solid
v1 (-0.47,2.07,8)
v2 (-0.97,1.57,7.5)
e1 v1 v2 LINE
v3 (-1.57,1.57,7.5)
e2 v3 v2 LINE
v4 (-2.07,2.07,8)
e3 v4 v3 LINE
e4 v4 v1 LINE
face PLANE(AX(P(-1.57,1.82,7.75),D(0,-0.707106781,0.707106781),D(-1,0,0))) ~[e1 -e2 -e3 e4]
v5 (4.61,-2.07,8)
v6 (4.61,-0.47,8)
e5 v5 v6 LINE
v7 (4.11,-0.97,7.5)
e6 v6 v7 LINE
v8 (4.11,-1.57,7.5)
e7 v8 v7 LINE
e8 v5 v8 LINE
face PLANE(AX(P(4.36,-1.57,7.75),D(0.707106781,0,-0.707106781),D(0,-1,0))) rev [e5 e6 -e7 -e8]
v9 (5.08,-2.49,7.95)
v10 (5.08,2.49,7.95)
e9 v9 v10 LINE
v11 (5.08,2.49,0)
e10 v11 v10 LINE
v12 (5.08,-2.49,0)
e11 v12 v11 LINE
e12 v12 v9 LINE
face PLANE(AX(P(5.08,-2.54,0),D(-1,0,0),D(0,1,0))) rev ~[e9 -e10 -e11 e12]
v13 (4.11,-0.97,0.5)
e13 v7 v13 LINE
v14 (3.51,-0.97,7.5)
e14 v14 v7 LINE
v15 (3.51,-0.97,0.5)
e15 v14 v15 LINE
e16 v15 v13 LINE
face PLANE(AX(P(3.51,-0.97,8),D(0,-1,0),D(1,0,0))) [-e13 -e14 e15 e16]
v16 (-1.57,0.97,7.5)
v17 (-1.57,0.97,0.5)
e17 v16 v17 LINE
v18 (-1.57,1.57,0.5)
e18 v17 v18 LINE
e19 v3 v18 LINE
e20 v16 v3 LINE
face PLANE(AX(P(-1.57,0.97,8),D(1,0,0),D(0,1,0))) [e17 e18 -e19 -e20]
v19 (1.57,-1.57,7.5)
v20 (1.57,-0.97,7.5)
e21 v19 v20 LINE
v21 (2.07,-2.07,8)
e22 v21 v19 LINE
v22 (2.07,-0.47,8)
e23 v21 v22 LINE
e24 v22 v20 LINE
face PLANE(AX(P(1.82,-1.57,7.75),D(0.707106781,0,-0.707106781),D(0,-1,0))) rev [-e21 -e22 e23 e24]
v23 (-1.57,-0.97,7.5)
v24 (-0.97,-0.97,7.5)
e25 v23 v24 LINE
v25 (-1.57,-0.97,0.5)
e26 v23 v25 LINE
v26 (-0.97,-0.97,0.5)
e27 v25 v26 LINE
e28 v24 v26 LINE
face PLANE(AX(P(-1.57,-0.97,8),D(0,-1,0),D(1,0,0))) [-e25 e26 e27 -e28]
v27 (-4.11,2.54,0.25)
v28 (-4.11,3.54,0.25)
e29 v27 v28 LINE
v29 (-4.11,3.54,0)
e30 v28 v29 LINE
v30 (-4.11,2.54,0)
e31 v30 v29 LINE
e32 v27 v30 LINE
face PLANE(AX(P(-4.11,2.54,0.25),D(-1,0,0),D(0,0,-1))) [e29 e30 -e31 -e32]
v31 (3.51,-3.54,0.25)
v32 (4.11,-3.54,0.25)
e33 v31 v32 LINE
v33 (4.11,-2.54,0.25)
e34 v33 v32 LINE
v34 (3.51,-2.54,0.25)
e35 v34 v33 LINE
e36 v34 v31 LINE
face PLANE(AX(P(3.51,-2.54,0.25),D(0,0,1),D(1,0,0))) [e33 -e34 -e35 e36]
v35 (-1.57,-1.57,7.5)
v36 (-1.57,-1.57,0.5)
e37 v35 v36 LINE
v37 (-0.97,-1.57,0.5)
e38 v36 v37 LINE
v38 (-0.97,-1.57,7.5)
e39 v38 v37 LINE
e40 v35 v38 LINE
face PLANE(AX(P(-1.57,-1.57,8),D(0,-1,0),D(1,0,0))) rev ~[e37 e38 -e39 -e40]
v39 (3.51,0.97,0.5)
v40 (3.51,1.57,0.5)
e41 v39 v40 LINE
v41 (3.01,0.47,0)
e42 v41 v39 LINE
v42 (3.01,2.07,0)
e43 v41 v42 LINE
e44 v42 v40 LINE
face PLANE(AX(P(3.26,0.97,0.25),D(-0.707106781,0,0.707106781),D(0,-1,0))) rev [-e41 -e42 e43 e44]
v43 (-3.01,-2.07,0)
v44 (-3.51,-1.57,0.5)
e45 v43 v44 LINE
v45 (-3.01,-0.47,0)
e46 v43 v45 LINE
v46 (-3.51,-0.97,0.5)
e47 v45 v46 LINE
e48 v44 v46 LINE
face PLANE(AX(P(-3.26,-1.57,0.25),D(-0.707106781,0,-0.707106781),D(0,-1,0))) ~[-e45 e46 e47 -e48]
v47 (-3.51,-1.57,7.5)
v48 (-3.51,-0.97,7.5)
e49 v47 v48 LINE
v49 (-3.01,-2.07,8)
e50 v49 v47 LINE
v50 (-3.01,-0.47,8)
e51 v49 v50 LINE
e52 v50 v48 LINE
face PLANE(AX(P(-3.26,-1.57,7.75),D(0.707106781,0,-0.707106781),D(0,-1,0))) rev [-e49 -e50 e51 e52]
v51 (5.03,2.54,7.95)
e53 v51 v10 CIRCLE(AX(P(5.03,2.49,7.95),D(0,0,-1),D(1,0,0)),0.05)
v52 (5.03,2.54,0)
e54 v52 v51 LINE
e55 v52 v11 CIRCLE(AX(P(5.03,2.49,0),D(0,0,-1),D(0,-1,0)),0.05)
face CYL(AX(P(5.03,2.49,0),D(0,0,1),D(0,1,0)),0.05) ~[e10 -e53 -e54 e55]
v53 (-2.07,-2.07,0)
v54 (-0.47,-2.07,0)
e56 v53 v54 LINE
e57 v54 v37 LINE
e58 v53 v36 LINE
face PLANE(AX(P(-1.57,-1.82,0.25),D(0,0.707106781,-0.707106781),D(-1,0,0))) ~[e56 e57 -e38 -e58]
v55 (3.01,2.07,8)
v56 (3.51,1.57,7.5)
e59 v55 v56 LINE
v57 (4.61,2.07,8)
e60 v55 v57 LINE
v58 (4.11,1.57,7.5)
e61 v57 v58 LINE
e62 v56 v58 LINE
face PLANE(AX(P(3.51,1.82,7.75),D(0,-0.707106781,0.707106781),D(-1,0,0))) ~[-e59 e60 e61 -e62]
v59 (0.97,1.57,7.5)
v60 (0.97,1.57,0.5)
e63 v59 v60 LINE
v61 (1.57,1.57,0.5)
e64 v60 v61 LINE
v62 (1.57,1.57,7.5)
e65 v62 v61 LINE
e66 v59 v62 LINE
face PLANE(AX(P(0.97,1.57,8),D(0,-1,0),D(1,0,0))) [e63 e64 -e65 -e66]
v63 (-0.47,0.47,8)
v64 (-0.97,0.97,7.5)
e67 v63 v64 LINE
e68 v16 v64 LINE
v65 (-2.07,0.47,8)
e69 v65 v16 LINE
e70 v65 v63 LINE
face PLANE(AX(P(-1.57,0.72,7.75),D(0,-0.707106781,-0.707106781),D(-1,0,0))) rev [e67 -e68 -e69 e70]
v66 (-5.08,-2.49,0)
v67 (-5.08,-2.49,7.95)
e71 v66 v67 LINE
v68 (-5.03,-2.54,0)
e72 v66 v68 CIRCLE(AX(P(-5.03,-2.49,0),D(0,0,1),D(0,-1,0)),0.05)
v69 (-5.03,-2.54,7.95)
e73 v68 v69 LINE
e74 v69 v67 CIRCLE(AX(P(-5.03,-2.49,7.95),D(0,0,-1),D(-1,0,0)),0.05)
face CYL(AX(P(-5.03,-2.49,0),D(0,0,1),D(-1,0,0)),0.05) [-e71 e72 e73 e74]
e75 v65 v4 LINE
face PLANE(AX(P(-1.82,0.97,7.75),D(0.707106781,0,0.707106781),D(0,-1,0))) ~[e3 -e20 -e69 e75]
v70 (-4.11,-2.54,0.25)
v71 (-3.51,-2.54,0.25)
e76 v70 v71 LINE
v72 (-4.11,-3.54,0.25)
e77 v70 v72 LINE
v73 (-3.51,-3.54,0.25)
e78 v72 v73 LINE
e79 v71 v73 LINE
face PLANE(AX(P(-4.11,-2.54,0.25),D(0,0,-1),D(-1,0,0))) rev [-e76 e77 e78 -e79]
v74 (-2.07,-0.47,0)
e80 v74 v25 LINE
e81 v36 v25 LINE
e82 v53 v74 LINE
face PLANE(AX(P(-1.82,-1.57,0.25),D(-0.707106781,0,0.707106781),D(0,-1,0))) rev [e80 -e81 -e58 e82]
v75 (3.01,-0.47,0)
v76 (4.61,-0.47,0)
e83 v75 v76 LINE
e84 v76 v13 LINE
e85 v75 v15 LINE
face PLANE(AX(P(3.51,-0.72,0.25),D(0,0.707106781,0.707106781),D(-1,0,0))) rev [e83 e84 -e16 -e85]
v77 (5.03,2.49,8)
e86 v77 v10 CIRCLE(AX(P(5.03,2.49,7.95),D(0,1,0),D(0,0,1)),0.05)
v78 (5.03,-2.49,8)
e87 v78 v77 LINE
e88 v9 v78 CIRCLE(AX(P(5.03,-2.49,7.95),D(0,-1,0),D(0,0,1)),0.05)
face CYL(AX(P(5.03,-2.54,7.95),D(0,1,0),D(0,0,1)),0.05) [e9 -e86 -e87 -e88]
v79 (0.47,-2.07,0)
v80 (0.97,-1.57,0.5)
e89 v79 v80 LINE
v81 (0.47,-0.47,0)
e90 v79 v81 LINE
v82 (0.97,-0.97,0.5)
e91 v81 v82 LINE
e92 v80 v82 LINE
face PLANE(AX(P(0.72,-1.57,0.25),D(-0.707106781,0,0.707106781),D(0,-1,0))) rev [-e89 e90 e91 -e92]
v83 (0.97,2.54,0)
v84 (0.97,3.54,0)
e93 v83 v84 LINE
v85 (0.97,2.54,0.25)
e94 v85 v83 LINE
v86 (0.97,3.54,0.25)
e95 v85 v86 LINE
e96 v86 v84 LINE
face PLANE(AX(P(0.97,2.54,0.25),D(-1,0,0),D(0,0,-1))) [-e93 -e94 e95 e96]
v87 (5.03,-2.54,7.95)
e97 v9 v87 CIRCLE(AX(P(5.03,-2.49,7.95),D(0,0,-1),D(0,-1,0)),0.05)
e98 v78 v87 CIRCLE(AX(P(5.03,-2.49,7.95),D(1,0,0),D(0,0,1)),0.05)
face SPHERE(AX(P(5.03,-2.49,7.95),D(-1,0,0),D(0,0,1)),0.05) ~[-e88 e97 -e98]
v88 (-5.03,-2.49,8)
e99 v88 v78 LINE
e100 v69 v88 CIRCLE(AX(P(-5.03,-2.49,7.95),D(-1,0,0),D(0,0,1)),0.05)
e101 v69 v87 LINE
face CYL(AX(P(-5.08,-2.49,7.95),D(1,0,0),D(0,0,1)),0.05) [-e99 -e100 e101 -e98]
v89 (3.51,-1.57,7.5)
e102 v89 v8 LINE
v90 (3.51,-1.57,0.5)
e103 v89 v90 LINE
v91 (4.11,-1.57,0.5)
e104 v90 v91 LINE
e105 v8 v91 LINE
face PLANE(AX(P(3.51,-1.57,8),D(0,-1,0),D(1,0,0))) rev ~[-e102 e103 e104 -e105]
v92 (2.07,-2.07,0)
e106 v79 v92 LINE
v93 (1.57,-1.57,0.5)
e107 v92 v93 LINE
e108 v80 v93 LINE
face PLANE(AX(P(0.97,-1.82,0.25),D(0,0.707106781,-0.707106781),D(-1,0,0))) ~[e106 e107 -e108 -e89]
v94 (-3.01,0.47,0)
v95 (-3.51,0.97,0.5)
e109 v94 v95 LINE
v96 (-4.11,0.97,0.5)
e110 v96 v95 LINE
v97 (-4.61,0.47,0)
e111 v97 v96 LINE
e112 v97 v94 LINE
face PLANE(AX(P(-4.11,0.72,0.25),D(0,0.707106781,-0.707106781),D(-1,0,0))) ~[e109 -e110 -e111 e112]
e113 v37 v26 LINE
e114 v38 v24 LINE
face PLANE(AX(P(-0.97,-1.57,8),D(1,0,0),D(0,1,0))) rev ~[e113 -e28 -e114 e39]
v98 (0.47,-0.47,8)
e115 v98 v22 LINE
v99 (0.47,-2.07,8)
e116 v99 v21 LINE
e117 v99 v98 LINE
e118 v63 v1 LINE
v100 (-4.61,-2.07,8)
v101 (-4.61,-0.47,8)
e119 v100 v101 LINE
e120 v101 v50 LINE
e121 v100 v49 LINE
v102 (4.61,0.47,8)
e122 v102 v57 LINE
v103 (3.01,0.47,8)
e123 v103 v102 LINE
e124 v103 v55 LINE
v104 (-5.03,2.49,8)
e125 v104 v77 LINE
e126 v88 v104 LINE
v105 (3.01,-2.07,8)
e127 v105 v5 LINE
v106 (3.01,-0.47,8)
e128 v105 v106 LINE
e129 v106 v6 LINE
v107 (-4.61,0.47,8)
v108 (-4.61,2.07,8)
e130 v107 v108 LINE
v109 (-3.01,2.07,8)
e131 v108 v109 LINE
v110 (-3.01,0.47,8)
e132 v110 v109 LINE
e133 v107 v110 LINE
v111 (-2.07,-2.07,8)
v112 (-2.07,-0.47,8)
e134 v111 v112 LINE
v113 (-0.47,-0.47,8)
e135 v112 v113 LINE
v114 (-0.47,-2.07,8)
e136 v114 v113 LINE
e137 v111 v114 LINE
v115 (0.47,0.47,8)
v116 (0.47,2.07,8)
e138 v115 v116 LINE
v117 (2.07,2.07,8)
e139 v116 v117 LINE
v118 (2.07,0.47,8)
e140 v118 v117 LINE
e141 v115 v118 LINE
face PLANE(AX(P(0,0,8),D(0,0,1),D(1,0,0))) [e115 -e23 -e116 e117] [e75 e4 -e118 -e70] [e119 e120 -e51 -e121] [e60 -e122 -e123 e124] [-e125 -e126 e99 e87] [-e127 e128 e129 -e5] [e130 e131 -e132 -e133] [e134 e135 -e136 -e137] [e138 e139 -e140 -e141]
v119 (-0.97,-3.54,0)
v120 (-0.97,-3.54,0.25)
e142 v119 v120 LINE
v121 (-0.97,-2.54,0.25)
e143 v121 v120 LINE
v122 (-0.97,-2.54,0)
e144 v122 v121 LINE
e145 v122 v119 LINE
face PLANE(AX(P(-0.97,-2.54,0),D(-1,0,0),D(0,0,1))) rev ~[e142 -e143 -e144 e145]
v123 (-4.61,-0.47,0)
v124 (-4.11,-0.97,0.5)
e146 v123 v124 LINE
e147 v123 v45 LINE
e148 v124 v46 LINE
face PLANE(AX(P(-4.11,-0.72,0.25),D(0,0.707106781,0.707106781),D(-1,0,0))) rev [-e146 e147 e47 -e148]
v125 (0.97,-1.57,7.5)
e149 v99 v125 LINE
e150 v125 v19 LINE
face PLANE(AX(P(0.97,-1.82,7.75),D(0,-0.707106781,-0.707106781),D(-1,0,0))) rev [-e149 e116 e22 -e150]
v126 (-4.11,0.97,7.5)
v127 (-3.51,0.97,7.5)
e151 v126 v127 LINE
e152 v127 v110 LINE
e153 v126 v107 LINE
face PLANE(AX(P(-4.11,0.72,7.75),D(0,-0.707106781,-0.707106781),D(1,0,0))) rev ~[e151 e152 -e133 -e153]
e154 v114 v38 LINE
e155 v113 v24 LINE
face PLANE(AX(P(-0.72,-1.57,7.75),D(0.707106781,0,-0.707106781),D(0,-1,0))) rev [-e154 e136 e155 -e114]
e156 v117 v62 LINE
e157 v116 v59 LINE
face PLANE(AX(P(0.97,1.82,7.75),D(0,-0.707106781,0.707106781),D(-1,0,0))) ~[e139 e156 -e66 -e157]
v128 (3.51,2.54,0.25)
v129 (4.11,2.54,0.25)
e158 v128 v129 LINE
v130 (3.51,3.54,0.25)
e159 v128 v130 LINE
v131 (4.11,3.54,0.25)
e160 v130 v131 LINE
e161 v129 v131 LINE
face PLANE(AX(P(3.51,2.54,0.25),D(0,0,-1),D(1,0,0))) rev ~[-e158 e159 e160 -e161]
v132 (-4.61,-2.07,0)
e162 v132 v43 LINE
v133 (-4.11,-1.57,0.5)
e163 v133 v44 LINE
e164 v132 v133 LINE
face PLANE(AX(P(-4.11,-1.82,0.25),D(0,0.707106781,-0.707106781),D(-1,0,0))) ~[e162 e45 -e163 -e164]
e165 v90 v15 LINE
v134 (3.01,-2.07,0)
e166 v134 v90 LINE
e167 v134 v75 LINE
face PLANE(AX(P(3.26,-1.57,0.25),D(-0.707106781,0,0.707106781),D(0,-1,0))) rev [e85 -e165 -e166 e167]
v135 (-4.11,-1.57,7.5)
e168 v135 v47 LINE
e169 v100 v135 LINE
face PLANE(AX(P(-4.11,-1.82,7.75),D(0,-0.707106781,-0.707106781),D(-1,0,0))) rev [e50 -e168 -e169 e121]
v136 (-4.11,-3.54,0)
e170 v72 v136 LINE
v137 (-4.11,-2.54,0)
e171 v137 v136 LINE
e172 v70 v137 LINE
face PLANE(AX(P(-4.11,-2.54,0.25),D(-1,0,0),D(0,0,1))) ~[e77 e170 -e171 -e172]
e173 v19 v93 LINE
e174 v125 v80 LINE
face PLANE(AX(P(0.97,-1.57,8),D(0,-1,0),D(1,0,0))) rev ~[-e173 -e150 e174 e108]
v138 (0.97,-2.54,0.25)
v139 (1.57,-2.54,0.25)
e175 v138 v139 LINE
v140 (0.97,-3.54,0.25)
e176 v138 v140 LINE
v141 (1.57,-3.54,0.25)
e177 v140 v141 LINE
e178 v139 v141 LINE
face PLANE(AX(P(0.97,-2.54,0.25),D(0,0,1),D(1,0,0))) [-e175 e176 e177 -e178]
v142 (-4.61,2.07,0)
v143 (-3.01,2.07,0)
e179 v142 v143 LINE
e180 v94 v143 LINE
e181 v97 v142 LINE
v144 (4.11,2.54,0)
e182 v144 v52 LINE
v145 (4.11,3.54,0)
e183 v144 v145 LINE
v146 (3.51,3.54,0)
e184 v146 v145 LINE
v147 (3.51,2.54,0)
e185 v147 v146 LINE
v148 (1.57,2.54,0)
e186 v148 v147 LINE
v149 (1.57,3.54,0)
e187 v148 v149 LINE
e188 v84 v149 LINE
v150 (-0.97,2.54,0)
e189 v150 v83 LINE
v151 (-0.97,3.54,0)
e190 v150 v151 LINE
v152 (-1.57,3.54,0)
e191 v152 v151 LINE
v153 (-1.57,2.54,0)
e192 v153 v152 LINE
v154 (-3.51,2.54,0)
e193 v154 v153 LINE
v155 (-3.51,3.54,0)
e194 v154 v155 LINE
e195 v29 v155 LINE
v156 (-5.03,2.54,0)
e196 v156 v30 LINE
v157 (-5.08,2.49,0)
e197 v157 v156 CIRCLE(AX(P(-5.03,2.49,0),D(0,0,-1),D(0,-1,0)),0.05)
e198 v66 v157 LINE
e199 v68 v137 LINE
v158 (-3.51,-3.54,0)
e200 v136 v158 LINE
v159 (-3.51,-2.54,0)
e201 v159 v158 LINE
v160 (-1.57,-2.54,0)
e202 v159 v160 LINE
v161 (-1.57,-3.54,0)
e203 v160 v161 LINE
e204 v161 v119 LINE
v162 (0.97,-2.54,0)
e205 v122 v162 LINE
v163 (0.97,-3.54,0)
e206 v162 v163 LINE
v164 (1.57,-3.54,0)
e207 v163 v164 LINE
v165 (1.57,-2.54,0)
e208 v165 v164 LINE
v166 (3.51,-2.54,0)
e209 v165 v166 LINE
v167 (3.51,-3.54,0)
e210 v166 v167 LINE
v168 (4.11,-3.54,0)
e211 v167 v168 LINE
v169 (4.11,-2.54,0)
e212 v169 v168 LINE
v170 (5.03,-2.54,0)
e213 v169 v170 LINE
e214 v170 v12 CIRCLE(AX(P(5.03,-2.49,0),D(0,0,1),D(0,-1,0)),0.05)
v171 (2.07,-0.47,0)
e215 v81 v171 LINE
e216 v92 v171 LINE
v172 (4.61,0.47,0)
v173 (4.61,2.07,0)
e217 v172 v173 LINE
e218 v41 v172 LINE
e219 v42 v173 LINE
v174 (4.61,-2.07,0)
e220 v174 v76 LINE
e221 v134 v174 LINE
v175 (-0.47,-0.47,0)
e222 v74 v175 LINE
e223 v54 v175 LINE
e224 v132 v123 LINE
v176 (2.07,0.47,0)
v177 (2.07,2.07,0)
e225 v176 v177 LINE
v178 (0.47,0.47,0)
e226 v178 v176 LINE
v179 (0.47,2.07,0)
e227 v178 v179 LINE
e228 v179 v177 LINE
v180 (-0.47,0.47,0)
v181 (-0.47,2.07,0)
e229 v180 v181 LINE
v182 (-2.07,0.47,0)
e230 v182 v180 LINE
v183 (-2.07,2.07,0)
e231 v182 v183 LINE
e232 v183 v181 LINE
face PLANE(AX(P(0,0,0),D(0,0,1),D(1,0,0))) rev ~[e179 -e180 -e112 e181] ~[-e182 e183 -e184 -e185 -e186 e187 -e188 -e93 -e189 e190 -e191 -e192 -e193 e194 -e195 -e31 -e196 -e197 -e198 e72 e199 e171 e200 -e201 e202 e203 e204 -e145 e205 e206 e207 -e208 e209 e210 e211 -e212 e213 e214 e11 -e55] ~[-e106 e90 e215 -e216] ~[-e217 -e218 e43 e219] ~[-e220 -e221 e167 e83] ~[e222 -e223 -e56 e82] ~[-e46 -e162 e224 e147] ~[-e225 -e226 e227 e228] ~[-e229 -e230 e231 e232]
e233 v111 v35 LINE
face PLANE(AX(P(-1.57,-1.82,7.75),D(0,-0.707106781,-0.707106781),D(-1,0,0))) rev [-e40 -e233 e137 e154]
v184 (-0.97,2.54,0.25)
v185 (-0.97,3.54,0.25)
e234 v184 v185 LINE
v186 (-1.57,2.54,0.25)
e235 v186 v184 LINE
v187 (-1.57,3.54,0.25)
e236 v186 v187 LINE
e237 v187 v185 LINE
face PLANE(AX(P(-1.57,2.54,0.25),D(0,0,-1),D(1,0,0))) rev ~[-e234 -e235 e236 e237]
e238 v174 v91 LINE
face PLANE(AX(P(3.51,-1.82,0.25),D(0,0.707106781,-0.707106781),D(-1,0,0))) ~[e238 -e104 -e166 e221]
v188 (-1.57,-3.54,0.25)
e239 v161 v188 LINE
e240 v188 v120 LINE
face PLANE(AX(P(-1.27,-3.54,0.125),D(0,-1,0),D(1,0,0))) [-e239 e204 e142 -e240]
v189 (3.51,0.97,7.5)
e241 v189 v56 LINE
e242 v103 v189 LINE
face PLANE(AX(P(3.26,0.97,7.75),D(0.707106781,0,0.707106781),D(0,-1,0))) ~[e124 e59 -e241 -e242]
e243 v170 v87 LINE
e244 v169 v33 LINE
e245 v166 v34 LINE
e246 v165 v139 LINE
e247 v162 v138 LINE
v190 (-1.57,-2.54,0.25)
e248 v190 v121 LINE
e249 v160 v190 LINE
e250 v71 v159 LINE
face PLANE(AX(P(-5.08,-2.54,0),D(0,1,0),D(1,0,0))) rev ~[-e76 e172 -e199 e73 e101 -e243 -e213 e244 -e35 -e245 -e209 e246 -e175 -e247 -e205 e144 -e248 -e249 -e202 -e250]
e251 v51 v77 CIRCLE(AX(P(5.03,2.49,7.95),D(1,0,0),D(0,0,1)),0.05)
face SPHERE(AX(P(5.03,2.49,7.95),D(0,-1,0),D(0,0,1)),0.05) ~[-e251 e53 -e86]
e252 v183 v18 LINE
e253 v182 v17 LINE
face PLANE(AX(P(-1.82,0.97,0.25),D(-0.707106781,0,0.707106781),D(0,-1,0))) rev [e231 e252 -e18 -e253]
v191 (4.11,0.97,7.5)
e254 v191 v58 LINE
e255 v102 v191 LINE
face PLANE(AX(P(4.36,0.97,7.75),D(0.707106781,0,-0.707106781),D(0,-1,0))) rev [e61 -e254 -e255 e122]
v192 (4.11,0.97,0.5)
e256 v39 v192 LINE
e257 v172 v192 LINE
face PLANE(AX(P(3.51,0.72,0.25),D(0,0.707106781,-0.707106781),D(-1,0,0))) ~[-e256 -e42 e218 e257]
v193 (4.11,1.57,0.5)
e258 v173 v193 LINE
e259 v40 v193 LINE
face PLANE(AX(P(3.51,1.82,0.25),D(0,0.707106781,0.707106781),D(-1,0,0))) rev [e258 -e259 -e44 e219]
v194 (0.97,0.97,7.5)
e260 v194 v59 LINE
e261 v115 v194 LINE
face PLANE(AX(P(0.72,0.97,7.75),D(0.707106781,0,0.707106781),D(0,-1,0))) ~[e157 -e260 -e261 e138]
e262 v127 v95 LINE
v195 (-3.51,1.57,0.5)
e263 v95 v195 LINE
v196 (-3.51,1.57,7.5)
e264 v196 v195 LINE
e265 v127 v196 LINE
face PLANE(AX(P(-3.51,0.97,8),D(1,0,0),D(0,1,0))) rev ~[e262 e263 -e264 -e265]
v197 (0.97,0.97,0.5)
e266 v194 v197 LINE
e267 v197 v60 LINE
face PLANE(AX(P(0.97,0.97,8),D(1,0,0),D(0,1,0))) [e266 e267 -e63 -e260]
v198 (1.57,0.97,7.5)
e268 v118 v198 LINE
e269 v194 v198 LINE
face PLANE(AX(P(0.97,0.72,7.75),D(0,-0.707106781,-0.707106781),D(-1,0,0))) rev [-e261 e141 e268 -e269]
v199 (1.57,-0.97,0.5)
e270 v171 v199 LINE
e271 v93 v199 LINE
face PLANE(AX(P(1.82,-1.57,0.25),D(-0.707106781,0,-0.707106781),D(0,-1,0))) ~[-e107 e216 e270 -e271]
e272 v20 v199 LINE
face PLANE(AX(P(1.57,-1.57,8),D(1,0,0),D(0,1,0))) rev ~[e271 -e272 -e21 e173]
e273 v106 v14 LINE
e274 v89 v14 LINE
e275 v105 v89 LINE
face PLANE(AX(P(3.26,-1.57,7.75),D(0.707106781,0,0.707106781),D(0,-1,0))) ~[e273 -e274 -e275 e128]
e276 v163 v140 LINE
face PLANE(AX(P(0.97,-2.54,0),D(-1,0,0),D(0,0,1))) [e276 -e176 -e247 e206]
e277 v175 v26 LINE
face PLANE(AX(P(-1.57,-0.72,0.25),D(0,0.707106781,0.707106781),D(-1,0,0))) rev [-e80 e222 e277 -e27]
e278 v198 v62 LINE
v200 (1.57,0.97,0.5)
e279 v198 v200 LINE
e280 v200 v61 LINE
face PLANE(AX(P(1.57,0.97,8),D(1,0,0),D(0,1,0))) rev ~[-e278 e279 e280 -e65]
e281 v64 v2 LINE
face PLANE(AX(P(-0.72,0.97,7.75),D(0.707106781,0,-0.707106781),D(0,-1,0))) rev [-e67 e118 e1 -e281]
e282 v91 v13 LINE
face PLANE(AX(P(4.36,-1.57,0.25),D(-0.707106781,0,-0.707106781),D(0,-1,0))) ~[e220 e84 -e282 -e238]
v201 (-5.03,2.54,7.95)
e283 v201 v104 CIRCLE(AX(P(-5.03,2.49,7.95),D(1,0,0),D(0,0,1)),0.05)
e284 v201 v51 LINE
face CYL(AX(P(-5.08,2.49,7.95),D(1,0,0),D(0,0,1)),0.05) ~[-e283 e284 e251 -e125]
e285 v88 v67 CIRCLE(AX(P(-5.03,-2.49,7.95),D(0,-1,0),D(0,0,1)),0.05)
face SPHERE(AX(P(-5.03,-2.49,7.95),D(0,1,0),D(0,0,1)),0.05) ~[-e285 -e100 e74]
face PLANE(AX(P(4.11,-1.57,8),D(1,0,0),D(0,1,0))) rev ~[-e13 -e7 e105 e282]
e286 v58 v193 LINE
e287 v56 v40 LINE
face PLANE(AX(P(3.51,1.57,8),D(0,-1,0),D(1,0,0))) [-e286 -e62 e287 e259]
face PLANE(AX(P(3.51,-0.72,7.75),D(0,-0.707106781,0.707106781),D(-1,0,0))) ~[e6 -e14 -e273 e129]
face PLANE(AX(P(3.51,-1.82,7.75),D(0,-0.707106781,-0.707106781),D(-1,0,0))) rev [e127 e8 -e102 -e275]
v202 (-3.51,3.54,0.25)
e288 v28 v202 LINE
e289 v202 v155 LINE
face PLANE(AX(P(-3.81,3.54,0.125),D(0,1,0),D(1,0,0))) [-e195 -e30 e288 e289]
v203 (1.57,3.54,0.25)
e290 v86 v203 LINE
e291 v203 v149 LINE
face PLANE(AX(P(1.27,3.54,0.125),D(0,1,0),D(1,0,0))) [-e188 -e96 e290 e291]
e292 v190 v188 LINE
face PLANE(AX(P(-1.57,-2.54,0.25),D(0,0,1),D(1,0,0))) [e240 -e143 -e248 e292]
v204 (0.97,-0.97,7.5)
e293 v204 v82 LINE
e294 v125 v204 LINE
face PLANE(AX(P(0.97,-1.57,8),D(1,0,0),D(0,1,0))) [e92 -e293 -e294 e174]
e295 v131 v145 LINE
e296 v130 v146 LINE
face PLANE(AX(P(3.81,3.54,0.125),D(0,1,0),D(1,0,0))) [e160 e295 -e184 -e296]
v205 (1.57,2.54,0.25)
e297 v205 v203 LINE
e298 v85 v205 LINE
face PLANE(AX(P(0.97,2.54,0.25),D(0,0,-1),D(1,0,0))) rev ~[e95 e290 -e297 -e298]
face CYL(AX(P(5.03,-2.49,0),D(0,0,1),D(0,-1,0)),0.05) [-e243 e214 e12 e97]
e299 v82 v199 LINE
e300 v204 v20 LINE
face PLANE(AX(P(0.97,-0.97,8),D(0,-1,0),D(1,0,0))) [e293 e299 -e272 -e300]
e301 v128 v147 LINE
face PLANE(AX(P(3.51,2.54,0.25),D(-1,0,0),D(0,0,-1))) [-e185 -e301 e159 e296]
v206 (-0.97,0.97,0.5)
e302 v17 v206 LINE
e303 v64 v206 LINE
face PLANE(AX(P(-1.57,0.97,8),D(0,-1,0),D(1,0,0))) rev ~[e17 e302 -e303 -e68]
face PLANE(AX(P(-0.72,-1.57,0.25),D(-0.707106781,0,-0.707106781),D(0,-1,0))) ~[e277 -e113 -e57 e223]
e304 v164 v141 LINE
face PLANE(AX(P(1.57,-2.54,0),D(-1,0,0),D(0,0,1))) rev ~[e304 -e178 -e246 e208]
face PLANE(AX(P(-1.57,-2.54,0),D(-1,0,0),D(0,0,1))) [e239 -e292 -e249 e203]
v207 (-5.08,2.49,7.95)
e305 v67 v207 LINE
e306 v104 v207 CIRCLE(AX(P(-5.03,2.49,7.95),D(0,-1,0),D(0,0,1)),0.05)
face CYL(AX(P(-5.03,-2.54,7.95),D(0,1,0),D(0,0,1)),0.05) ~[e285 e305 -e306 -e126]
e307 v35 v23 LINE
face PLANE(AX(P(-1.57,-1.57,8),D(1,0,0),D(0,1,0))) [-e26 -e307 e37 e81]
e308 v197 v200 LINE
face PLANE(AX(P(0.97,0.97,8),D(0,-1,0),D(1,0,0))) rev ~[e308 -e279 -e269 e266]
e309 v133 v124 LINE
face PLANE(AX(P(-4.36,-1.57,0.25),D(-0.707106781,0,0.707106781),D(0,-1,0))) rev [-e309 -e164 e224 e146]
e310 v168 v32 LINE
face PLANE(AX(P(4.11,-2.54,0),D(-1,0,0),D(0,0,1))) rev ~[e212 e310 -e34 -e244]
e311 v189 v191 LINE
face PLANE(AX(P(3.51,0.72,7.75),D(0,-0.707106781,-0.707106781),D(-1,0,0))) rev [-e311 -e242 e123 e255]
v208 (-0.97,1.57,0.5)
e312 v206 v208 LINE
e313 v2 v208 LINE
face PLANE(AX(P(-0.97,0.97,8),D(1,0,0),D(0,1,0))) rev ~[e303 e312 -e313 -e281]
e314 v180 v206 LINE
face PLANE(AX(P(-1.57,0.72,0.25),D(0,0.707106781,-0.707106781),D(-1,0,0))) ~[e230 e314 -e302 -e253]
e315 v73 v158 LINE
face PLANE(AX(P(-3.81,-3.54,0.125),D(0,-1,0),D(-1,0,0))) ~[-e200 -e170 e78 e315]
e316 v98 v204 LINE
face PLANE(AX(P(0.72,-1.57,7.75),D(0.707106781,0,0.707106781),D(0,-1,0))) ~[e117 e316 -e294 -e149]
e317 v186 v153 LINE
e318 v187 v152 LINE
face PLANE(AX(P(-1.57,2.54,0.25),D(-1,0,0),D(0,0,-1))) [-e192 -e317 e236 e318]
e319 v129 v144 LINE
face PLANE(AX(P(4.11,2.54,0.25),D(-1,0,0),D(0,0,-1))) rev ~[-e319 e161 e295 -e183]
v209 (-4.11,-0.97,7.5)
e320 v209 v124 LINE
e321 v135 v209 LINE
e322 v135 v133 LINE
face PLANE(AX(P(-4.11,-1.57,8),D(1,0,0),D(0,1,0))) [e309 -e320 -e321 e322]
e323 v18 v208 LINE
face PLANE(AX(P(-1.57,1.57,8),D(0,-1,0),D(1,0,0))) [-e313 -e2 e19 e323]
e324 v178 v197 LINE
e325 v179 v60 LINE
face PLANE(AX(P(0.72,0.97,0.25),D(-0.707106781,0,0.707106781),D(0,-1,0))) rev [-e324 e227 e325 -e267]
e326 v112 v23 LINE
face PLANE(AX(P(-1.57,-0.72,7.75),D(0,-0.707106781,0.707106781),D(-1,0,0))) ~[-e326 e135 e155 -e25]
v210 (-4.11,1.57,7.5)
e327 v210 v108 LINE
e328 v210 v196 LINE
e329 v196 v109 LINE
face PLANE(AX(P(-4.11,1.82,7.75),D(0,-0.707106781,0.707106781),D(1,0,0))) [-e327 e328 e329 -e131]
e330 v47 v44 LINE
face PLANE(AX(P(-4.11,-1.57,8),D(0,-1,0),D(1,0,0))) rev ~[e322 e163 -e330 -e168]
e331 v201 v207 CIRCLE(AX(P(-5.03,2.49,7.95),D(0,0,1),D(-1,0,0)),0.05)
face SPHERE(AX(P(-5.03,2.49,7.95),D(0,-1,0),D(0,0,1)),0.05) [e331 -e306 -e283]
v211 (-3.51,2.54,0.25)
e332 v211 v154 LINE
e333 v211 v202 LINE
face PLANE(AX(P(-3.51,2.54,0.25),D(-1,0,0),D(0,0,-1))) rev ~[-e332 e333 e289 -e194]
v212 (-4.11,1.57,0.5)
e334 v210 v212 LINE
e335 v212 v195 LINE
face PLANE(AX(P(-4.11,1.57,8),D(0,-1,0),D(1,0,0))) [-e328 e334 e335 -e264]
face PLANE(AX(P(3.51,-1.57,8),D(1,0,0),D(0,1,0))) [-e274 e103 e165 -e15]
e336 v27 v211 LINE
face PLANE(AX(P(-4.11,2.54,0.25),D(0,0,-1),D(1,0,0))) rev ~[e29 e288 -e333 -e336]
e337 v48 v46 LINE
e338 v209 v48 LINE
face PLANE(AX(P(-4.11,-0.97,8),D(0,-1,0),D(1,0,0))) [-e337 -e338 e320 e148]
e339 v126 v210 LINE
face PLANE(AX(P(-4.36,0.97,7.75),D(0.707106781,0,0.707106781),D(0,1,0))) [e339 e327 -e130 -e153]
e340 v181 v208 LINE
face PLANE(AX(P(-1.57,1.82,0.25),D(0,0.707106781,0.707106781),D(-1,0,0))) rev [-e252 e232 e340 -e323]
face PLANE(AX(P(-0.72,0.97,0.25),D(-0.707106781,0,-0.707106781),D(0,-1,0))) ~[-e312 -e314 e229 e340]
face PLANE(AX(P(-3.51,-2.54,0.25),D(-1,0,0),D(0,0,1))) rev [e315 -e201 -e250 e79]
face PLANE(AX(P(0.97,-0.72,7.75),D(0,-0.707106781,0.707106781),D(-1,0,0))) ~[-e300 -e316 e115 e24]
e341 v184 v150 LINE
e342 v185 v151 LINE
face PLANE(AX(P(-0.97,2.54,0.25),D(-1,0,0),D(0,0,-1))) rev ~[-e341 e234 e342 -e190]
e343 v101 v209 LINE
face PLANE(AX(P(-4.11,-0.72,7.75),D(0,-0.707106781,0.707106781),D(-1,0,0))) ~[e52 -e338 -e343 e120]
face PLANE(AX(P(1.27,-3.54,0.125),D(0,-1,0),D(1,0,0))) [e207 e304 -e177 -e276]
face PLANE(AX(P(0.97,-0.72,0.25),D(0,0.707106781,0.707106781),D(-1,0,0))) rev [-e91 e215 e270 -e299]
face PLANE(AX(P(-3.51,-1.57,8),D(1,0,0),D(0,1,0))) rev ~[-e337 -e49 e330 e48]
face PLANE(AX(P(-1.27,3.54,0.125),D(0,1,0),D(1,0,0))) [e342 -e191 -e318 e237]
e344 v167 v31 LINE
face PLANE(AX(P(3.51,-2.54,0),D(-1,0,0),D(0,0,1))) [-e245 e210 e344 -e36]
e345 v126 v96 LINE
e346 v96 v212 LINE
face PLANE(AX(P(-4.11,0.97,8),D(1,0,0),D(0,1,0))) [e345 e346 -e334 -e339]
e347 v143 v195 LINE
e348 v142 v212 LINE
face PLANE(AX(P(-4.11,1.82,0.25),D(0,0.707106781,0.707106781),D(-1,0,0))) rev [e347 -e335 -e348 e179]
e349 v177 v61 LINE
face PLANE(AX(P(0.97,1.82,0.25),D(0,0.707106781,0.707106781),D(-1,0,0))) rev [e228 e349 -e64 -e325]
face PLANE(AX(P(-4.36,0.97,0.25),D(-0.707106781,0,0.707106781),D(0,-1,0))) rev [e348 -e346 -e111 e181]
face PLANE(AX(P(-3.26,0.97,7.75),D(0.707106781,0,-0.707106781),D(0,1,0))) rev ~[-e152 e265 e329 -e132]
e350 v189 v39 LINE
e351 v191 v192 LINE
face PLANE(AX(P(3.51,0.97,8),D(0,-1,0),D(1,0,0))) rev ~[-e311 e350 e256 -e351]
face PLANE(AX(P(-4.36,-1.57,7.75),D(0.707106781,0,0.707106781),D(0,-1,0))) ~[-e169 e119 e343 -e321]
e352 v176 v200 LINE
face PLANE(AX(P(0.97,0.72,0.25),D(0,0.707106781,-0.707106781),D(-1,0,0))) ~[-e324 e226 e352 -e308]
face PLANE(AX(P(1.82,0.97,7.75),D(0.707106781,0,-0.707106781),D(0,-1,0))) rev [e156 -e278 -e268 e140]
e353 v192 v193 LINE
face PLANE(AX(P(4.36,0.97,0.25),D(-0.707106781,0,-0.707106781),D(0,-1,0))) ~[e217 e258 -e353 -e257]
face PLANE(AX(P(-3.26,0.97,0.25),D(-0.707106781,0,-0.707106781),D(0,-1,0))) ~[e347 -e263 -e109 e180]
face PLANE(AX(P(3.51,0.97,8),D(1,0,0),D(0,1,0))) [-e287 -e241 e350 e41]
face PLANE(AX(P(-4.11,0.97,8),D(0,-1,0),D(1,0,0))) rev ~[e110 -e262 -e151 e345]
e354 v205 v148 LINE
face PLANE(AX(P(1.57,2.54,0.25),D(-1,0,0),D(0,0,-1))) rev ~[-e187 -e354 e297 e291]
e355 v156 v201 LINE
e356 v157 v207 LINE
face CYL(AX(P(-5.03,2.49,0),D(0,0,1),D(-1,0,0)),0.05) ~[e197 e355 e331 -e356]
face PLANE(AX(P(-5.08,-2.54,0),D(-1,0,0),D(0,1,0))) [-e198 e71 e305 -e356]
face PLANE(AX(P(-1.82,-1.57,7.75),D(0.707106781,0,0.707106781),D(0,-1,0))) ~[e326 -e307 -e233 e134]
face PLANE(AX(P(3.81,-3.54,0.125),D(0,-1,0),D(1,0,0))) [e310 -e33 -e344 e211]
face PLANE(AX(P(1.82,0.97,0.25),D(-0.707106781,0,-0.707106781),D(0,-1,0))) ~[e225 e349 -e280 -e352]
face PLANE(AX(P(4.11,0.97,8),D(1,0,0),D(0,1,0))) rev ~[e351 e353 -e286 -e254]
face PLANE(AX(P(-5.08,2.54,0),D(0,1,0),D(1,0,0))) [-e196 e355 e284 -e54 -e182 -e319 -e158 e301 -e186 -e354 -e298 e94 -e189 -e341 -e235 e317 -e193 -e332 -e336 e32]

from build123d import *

# Parameters (mm, degrees)
SKETCH_1_W               = 10.16
SKETCH_1_H               = 5.08
EXTRUDE_1_DEPTH          = 8
SKETCH_2_W               = 0.6
SKETCH_2_H               = 0.6
CUT_EXTRUDE_1_DEPTH      = 10.811116144
CHAMFER_1_SIZE           = 0.5
CHAMFER_2_SIZE           = 0.5
FILLET_1_R               = 0.05
SKETCH_4_W               = 0.6
SKETCH_4_H               = 0.25
EXTRUDE_3_DEPTH          = 1
PATTERN_LINEAR_2_COUNT   = 4
PATTERN_LINEAR_2_PITCH   = 2.54
MIRROR_1_COPY_1_SKETCH_W = 0.6
MIRROR_1_COPY_1_SKETCH_H = 0.25
MIRROR_1_COPY_1_DEPTH    = 1
MIRROR_1_COPY_2_SKETCH_W = 0.6
MIRROR_1_COPY_2_SKETCH_H = 0.25
MIRROR_1_COPY_2_DEPTH    = 1
MIRROR_1_COPY_3_SKETCH_W = 0.6
MIRROR_1_COPY_3_SKETCH_H = 0.25
MIRROR_1_COPY_3_DEPTH    = 1


with BuildPart() as part:
    # 草图1 → 凸台-拉伸1 (new body)
    with BuildSketch(Plane.XY):
        Rectangle(SKETCH_1_W, SKETCH_1_H)
    extrude(amount=EXTRUDE_1_DEPTH)

    # 草图2 → 切除-拉伸1 (cut, through all)
    with BuildSketch(Plane.XY.offset(8)):
        with Locations((1.27, 1.27)):
            Rectangle(SKETCH_2_W, SKETCH_2_H)
        with Locations((-1.27, 1.27)):
            Rectangle(SKETCH_2_W, SKETCH_2_H)
        with Locations((3.81, 1.27)):
            Rectangle(SKETCH_2_W, SKETCH_2_H)
        with Locations((-1.27, -1.27)):
            Rectangle(SKETCH_2_W, SKETCH_2_H)
        with Locations((1.27, -1.27)):
            Rectangle(SKETCH_2_W, SKETCH_2_H)
        with Locations((3.81, -1.27)):
            Rectangle(SKETCH_2_W, SKETCH_2_H)
        with Locations((-3.81, -1.27)):
            Rectangle(SKETCH_2_W, SKETCH_2_H)
        with Locations((-3.81, 1.27)):
            Rectangle(SKETCH_2_W, SKETCH_2_H)
    extrude(amount=-CUT_EXTRUDE_1_DEPTH, mode=Mode.SUBTRACT)

    # 倒角1
    chamfer_1_edges = [part.edges().sort_by_distance(p)[0] for p in [
        (-3.81, 1.57, 0),
        (-3.51, 1.27, 0),
        (-3.81, 0.97, 0),
        (-4.11, 1.27, 0),
        (-0.97, 1.27, 0),
        (-1.27, 0.97, 0),
        (-1.57, 1.27, 0),
        (-1.27, 1.57, 0),
        (1.57, 1.27, 0),
        (1.27, 0.97, 0),
        (0.97, 1.27, 0),
        (1.27, 1.57, 0),
        (-3.81, -0.97, 0),
        (-3.51, -1.27, 0),
        (-3.81, -1.57, 0),
        (-4.11, -1.27, 0),
        (4.11, 1.27, 0),
        (3.81, 0.97, 0),
        (3.51, 1.27, 0),
        (3.81, 1.57, 0),
        (-0.97, -1.27, 0),
        (-1.27, -1.57, 0),
        (-1.57, -1.27, 0),
        (-1.27, -0.97, 0),
        (1.57, -1.27, 0),
        (1.27, -1.57, 0),
        (0.97, -1.27, 0),
        (1.27, -0.97, 0),
        (4.11, -1.27, 0),
        (3.81, -1.57, 0),
        (3.51, -1.27, 0),
        (3.81, -0.97, 0),
        (4.11, -1.27, 8),
        (3.81, -0.97, 8),
        (3.51, -1.27, 8),
        (3.81, -1.57, 8),
    ]]
    chamfer(chamfer_1_edges, length=CHAMFER_1_SIZE)

    # 倒角2
    chamfer_2_edges = [part.edges().sort_by_distance(p)[0] for p in [
        (-3.81, 1.57, 8),
        (-4.11, 1.27, 8),
        (-3.81, 0.97, 8),
        (-3.51, 1.27, 8),
        (-0.97, 1.27, 8),
        (-1.27, 1.57, 8),
        (-1.57, 1.27, 8),
        (-1.27, 0.97, 8),
        (1.57, 1.27, 8),
        (1.27, 1.57, 8),
        (0.97, 1.27, 8),
        (1.27, 0.97, 8),
        (-3.81, -0.97, 8),
        (-4.11, -1.27, 8),
        (-3.81, -1.57, 8),
        (-3.51, -1.27, 8),
        (4.11, 1.27, 8),
        (3.81, 1.57, 8),
        (3.51, 1.27, 8),
        (3.81, 0.97, 8),
        (-0.97, -1.27, 8),
        (-1.27, -0.97, 8),
        (-1.57, -1.27, 8),
        (-1.27, -1.57, 8),
        (1.57, -1.27, 8),
        (1.27, -0.97, 8),
        (0.97, -1.27, 8),
        (1.27, -1.57, 8),
    ]]
    chamfer(chamfer_2_edges, length=CHAMFER_2_SIZE)

    # 圆角1
    fillet_1_edges = [part.edges().sort_by_distance(p)[0] for p in [
        (-5.08, 0, 8),
        (0, -2.54, 8),
        (5.08, 0, 8),
        (0, 2.54, 8),
        (5.08, -2.54, 4),
        (-5.08, -2.54, 4),
        (-5.08, 2.54, 4),
        (5.08, 2.54, 4),
    ]]
    fillet(fillet_1_edges, radius=FILLET_1_R)

    # 草图4 → 凸台-拉伸3 (add)
    with BuildSketch(Plane(origin=(0, 2.54, 0), x_dir=(1, 0, 0), z_dir=(0, 1, 0))):
        with Locations((-3.81, -0.125)):
            Rectangle(SKETCH_4_W, SKETCH_4_H)
    extrude_3 = extrude(amount=EXTRUDE_3_DEPTH)

    # 阵列(线性)2: 凸台-拉伸3 ×4
    with Locations(*[(i * PATTERN_LINEAR_2_PITCH, 0, 0) for i in range(1, PATTERN_LINEAR_2_COUNT)]):
        add(extrude_3)

    # 镜向1: 凸台-拉伸3 across plane
    add(extrude_3.mirror(Plane.ZX))

    # 镜向1 copy 1 sketch → 镜向1 copy 1 (add)
    with BuildSketch(Plane(origin=(2.54, -2.54, 0), x_dir=(1, 0, 0), z_dir=(0, -1, 0))):
        with Locations((-3.81, 0.125)):
            Rectangle(MIRROR_1_COPY_1_SKETCH_W, MIRROR_1_COPY_1_SKETCH_H)
    extrude(amount=MIRROR_1_COPY_1_DEPTH)

    # 镜向1 copy 2 sketch → 镜向1 copy 2 (add)
    with BuildSketch(Plane(origin=(5.08, -2.54, 0), x_dir=(1, 0, 0), z_dir=(0, -1, 0))):
        with Locations((-3.81, 0.125)):
            Rectangle(MIRROR_1_COPY_2_SKETCH_W, MIRROR_1_COPY_2_SKETCH_H)
    extrude(amount=MIRROR_1_COPY_2_DEPTH)

    # 镜向1 copy 3 sketch → 镜向1 copy 3 (add)
    with BuildSketch(Plane(origin=(7.62, -2.54, 0), x_dir=(1, 0, 0), z_dir=(0, -1, 0))):
        with Locations((-3.81, 0.125)):
            Rectangle(MIRROR_1_COPY_3_SKETCH_W, MIRROR_1_COPY_3_SKETCH_H)
    extrude(amount=MIRROR_1_COPY_3_DEPTH)


solid = part.part
